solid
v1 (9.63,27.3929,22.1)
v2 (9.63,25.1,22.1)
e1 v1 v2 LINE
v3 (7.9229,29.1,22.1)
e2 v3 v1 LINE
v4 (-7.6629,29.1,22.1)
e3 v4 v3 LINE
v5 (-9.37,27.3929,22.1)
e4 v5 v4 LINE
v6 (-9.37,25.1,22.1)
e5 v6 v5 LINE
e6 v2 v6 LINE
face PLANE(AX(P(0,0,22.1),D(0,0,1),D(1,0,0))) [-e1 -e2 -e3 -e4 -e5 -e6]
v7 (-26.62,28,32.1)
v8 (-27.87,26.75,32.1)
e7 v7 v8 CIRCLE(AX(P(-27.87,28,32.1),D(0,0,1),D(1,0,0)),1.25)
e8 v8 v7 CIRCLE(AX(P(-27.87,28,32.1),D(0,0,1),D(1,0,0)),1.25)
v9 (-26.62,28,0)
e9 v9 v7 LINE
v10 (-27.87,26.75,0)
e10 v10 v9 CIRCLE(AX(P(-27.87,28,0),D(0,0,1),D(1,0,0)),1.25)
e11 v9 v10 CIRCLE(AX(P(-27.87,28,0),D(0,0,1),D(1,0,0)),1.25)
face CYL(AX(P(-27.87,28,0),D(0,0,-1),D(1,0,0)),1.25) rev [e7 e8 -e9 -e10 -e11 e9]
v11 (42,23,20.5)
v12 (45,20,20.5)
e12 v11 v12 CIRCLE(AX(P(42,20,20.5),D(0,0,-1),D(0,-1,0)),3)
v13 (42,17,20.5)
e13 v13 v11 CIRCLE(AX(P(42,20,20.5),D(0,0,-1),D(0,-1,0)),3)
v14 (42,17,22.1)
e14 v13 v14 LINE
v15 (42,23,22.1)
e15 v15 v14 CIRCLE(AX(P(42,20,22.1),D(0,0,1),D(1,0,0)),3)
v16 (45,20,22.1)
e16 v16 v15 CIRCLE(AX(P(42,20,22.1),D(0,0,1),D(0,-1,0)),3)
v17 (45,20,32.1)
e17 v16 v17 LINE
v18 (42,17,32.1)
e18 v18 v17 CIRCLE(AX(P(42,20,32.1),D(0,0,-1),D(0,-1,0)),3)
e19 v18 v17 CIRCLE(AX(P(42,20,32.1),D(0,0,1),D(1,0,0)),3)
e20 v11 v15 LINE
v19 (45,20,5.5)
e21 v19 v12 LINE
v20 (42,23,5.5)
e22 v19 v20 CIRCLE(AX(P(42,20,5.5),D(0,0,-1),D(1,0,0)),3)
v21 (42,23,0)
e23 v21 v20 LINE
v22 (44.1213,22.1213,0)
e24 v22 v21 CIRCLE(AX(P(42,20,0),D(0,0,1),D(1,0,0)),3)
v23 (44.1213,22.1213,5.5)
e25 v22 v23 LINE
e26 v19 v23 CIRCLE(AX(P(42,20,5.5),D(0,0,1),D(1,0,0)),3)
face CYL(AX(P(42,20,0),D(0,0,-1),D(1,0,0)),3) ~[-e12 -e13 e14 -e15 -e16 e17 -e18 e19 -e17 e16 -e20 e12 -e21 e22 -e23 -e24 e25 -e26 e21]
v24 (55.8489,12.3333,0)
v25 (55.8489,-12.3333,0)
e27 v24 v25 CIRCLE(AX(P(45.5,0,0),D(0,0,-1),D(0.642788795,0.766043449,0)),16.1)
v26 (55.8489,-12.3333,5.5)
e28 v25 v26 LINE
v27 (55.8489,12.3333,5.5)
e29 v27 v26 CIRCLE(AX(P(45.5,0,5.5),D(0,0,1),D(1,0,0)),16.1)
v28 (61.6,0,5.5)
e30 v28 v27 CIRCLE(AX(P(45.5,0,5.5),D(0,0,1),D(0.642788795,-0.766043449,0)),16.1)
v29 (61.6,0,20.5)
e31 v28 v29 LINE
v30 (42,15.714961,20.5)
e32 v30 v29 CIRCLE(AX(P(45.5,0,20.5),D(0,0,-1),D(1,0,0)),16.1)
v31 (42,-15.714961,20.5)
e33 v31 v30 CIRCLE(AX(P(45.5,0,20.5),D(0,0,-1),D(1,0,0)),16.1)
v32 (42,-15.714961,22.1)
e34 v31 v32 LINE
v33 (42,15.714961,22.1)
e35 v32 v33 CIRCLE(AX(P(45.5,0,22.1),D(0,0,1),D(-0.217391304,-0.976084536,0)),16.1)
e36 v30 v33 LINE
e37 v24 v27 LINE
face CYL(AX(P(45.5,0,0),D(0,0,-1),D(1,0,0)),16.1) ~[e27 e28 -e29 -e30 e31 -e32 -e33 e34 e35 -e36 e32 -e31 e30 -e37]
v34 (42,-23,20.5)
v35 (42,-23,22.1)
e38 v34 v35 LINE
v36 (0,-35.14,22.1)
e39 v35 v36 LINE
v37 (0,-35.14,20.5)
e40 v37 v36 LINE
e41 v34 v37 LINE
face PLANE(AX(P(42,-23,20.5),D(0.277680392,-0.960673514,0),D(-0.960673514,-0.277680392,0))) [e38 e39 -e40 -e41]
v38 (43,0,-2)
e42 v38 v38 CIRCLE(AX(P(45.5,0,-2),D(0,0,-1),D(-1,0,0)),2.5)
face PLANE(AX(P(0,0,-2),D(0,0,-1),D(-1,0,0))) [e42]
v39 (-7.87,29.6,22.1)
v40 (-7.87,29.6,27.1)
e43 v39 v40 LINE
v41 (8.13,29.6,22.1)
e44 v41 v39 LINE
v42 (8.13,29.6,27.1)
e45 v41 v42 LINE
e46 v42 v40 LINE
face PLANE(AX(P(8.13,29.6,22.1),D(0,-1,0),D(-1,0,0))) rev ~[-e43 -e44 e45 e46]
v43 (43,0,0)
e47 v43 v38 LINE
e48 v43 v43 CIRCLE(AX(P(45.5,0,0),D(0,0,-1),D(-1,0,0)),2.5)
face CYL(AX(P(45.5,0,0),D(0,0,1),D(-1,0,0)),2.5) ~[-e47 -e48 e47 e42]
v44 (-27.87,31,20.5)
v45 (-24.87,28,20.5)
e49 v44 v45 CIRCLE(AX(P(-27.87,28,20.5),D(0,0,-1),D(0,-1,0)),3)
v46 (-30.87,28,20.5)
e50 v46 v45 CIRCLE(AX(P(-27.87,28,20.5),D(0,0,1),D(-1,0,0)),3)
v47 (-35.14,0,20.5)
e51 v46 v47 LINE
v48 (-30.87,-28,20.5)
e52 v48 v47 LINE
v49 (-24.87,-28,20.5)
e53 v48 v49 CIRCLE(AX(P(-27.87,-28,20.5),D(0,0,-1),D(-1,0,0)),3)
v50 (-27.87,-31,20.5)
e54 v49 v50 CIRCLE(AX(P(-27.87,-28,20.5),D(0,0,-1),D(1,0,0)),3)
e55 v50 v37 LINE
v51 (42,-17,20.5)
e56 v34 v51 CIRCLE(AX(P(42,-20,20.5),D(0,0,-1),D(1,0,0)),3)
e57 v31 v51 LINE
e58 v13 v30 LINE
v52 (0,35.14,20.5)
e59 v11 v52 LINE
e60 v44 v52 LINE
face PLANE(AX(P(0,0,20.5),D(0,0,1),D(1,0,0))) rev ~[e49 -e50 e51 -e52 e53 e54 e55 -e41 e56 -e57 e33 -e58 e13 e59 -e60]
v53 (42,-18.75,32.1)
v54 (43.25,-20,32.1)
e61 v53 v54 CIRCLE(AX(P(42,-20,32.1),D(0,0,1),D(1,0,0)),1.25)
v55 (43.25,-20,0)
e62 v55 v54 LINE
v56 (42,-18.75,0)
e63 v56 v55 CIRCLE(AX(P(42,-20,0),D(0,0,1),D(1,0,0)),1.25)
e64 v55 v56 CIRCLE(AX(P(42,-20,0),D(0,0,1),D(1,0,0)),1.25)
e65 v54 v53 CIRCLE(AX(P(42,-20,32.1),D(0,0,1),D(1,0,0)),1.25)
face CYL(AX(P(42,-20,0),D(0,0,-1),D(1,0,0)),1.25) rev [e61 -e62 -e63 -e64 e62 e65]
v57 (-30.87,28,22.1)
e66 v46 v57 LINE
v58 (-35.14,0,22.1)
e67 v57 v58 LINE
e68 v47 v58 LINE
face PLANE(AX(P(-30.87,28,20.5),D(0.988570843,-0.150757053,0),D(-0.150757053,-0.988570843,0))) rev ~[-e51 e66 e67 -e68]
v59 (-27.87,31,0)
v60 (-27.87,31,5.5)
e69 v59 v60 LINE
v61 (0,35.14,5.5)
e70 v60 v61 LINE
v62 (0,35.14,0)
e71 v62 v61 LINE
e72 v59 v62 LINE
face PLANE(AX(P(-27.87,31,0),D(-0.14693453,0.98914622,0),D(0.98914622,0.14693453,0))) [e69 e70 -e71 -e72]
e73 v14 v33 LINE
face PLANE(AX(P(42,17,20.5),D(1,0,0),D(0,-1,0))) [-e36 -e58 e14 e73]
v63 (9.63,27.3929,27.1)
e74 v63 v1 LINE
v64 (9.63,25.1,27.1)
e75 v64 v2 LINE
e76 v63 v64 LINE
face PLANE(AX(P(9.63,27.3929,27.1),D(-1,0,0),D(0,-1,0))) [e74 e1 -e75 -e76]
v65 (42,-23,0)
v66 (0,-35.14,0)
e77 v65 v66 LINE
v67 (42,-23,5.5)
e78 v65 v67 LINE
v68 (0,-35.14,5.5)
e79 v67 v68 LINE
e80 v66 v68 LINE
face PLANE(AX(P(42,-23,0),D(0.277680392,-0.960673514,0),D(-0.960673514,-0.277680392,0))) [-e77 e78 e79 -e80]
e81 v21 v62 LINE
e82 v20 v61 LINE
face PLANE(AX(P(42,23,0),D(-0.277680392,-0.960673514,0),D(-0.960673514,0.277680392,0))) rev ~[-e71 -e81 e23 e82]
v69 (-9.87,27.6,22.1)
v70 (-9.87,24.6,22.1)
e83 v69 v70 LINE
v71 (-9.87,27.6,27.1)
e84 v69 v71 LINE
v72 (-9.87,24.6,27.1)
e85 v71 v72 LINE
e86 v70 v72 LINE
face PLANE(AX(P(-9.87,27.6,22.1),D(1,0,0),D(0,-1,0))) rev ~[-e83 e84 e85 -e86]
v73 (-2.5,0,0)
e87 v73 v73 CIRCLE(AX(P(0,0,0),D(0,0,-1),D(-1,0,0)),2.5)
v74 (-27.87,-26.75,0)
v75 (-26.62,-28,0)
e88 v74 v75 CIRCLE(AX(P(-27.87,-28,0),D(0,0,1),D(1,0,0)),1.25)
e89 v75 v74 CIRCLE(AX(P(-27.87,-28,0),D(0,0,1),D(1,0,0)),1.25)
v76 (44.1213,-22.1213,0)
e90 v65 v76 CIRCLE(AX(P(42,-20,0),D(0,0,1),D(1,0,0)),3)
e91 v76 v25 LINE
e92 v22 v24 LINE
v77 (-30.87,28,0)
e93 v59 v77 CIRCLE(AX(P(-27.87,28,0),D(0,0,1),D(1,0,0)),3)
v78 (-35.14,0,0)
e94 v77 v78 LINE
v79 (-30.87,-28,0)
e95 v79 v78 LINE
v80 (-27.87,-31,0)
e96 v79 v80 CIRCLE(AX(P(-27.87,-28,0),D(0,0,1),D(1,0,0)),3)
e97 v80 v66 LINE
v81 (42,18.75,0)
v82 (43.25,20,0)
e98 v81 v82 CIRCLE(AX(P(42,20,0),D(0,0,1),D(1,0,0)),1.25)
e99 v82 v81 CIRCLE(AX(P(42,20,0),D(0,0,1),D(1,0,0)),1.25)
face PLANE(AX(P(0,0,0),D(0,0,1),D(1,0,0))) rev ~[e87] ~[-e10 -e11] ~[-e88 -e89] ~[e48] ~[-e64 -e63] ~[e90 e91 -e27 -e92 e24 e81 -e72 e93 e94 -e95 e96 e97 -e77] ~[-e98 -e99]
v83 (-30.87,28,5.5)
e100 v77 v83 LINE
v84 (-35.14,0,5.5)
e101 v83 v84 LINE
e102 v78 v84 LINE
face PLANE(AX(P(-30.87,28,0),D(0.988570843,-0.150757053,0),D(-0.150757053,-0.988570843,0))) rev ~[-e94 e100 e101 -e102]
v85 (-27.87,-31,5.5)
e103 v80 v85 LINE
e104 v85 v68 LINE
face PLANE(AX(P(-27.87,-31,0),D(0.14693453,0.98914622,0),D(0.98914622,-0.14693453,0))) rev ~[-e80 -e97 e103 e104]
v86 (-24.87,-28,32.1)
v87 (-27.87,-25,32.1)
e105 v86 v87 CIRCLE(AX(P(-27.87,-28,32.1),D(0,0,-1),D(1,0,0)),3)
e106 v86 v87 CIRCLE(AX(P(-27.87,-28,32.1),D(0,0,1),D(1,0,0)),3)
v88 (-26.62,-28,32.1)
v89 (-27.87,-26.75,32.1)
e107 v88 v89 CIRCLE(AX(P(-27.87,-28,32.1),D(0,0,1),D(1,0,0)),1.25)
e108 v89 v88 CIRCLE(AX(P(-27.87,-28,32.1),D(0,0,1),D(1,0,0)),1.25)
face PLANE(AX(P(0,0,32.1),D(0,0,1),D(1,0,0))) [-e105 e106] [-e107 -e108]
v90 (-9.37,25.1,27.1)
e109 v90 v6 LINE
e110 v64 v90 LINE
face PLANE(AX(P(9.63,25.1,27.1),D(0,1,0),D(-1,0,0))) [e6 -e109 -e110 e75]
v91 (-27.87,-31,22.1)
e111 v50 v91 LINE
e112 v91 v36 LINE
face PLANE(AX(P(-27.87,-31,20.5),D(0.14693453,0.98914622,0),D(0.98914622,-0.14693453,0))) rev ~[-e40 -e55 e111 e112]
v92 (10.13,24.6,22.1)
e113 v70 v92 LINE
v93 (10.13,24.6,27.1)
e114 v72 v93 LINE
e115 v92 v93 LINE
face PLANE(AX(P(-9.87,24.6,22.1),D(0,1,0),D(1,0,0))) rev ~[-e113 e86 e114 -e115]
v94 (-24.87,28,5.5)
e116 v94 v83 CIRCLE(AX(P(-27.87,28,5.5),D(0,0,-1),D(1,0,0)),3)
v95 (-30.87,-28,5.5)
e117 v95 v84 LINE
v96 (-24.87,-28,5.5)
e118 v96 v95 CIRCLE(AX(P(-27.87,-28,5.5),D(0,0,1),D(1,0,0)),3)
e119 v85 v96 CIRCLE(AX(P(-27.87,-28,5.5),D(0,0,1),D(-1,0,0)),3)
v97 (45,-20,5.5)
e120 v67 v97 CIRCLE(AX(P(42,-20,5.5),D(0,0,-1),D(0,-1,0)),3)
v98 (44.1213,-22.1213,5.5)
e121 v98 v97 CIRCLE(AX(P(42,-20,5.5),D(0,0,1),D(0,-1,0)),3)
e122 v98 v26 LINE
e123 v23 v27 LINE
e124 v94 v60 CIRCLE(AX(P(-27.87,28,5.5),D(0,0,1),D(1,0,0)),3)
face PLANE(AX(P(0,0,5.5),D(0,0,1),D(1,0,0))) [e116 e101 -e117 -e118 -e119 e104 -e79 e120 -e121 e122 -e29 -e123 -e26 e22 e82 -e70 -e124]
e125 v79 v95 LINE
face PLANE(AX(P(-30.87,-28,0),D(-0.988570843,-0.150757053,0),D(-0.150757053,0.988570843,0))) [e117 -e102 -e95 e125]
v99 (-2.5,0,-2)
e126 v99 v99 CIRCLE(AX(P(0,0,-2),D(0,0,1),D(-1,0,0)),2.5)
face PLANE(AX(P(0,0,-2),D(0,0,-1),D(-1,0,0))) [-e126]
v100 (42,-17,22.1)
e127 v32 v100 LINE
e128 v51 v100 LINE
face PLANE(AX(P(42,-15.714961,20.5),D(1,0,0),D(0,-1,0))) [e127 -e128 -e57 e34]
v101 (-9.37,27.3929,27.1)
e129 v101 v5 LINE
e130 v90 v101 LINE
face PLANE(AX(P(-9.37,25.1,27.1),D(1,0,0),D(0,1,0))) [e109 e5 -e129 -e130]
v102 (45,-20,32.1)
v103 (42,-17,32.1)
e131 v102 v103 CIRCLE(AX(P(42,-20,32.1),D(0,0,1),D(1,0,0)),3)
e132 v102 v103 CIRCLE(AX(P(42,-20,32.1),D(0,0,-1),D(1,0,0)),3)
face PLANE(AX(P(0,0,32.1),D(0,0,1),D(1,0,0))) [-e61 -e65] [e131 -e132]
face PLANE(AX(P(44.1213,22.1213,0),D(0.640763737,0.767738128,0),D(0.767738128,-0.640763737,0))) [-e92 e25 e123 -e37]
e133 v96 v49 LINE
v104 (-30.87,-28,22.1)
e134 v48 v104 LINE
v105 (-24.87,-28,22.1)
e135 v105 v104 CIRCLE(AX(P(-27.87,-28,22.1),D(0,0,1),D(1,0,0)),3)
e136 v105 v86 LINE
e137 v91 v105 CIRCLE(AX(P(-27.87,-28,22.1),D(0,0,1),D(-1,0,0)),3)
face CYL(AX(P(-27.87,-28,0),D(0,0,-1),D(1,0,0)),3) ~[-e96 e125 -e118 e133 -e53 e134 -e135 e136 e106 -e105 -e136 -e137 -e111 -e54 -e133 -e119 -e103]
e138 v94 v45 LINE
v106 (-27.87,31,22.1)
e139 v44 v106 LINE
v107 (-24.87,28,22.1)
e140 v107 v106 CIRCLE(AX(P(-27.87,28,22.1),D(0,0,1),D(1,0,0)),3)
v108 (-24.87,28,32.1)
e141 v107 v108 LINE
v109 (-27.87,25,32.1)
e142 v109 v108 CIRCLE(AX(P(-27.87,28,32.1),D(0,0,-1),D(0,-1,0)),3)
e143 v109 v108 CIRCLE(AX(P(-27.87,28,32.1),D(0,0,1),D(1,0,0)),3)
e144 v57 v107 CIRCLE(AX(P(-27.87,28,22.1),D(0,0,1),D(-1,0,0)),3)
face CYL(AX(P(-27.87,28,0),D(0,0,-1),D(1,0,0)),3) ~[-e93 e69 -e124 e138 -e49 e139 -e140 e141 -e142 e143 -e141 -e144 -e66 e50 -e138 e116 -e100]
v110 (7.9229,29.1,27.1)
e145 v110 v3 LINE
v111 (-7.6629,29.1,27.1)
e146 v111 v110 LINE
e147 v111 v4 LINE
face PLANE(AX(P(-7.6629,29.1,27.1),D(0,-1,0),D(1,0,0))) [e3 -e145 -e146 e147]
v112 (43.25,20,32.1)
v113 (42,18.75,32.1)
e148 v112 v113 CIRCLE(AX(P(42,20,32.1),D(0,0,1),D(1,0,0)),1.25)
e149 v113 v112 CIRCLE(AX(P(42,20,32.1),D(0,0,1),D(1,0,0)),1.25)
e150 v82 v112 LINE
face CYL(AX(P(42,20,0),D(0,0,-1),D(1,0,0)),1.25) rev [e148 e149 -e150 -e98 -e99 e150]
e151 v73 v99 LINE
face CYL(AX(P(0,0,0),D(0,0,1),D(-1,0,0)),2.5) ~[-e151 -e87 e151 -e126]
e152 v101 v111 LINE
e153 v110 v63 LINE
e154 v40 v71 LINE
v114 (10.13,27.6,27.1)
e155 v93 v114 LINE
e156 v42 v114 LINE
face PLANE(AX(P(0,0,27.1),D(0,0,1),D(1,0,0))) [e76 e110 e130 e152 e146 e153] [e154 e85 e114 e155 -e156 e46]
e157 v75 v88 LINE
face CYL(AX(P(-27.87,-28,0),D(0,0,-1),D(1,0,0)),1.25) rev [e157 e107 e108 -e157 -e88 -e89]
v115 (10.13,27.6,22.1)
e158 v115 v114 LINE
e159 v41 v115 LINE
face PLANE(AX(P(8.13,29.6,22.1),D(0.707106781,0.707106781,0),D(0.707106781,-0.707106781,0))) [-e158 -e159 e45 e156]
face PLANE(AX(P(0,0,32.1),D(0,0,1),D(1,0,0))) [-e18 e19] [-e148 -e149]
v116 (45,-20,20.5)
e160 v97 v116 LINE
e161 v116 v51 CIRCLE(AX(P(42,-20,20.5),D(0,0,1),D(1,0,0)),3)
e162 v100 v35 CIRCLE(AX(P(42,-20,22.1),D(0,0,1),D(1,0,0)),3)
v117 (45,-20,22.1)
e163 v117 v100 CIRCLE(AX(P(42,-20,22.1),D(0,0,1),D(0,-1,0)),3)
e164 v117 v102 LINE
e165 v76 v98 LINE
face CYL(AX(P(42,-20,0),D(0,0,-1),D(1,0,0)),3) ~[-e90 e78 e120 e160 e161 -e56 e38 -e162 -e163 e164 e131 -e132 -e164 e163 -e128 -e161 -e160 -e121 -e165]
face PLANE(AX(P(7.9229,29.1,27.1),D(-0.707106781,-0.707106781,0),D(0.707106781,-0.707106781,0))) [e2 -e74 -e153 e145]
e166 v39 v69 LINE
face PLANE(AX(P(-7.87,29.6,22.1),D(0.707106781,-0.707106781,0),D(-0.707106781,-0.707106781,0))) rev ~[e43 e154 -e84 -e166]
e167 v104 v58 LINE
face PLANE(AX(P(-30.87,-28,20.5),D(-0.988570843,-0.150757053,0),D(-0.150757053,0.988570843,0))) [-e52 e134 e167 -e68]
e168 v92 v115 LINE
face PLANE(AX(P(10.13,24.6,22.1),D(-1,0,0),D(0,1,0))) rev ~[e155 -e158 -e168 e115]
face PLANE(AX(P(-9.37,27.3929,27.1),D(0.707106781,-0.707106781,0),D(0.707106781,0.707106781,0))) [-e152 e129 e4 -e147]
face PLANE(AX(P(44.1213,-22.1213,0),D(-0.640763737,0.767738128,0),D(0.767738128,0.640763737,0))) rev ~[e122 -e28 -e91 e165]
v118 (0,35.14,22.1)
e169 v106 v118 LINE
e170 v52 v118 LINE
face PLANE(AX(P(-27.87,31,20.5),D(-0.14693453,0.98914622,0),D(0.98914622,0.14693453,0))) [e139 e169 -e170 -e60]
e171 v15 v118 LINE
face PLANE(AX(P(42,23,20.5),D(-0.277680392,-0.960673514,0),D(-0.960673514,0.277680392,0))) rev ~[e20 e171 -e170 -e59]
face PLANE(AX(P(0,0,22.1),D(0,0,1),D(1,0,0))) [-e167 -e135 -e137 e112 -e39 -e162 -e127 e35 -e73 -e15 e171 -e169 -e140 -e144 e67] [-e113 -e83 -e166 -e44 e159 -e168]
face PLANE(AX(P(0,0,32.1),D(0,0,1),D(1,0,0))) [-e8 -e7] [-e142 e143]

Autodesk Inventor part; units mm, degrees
ref_plane "YZ Plane" through (0, 0, 0) normal (1, 0, 0) x (0, 1, 0)
ref_plane "XZ Plane" through (0, 0, 0) normal (0, 1, 0) x (-1, 0, 0)
ref_plane "XY Plane" through (0, 0, 0) normal (0, 0, 1) x (1, 0, 0)
sketch "스케치1" plane through (0, 0, 0) normal (0, 0, 1) x (1, 0, 0)
  line L0 (0, 0) -> (-35.14, 0)
  line L1 (-35.14, 0) -> (61.6, 0)
  line L2 (0, 35.14) -> (0, -35.14)
  line L3 (-35.14, -35.14) -> (61.6, -35.14)
  line L4 (61.6, -35.14) -> (61.6, 35.14)
  line L5 (61.6, 35.14) -> (-35.14, 35.14)
  line L6 (-35.14, 35.14) -> (-35.14, -35.14)
  line L7 (0, 0) -> (-27.87, 0)
  line L8 (0, 0) -> (42, 0)
  line L9 (42, 20) -> (42, -20)
  circle A0 centre (42, -20) radius 1.25
  circle A1 centre (42, 20) radius 1.25
  line L10 (0, 0) -> (45.5, 0)
  circle A2 centre (45.5, 0) radius 9
  circle A3 centre (45.5, 0) radius 16.1
  circle A4 centre (42, -20) radius 3
  circle A5 centre (42, 20) radius 3
  line L11 (45.5, 0) -> (61.6, 0) construction
  line L12 (42, 20) -> (45, 20) construction
  line L13 (44.1213, 22.1213) -> (55.8489, 12.3333)
  line L14 (42, 23) -> (0, 35.14)
  line L15 (-27.87, 28) -> (-27.87, -28)
  circle A6 centre (-27.87, 28) radius 1.25
  circle A7 centre (-27.87, 28) radius 3
  circle A8 centre (-27.87, -28) radius 1.25
  circle A9 centre (-27.87, -28) radius 3
  line L16 (-27.87, 31) -> (0, 35.14)
  line L17 (-30.87, 28) -> (-35.14, 0)
  line L18 (44.1213, -22.1213) -> (55.8489, -12.3333)
  line L19 (42, -23) -> (0, -35.14)
  line L20 (-27.87, -31) -> (0, -35.14)
  line L21 (-30.87, -28) -> (-35.14, 0)
  dimension "d20" = 6
  dimension "d0" = 35.14
  dimension "d1" = 96.74
  dimension "d3" = 70.28
  dimension "d4" = 27.87
  dimension "d9" = 42
  dimension "d11" = 40
  dimension "d12" = 2.5
  dimension "d13" = 2.5
  dimension "d14" = 45.5
  dimension "d15" = 18
  dimension "d16" = 32.2
  dimension "d19" = 6
  dimension "d27" = 56
  dimension "d28" = 2.5
  dimension "d29" = 6
  dimension "d30" = 2.5
  dimension "d31" = 6
extrude "돌출1" add sketch "스케치1" along normal blind 5.5 contours L2 L20 A9 L15 L0 | L2 L14 A5 L9 A3 L1 | L0 L15 A7 L16 L2 | L1 A3 L9 A4 L19 L2 | L15 A9 L21 L0 | L0 L17 A7 L15 | A3 L9 A2 L1 | L1 A2 L9 A3 | A3 L1 A2 L9 | L18 A4 L9 A3 | A7 | A9 | A2 L9 L1 | L1 L9 A2 | L9 A5 L13 A3 | L9 A2 L1 A3 | A5 | A4 | L9 A2 L1 | L1 A2 L9
sketch "스케치2" plane through (0, 0, 5.5) normal (0, 0, 1) x (1, 0, 0)
  line L0 (0, 0) -> (-35.14, 0)
  line L1 (-35.14, 0) -> (61.6, 0)
  line L2 (0, 35.14) -> (0, -35.14)
  line L3 (-35.14, -35.14) -> (61.6, -35.14)
  line L4 (61.6, -35.14) -> (61.6, 35.14)
  line L5 (61.6, 35.14) -> (-35.14, 35.14)
  line L6 (-35.14, 35.14) -> (-35.14, -35.14)
  line L7 (0, 0) -> (-27.87, 0)
  line L8 (0, 0) -> (42, 0)
  line L9 (42, 20) -> (42, -20)
  circle A0 centre (42, -20) radius 1.25
  circle A1 centre (42, 20) radius 1.25
  line L10 (0, 0) -> (45.5, 0)
  circle A2 centre (45.5, 0) radius 9
  circle A3 centre (45.5, 0) radius 16.1
  circle A4 centre (42, -20) radius 3
  circle A5 centre (42, 20) radius 3
  line L11 (45.5, 0) -> (61.6, 0) construction
  line L12 (42, 20) -> (45, 20) construction
  line L13 (44.1213, 22.1213) -> (55.8489, 12.3333)
  line L14 (42, 23) -> (0, 35.14)
  line L15 (-27.87, 28) -> (-27.87, -28)
  circle A6 centre (-27.87, 28) radius 1.25
  circle A7 centre (-27.87, 28) radius 3
  circle A8 centre (-27.87, -28) radius 1.25
  circle A9 centre (-27.87, -28) radius 3
  line L16 (-27.87, 31) -> (0, 35.14)
  line L17 (-30.87, 28) -> (-35.14, 0)
  line L18 (-27.87, -31) -> (0, -35.14)
  line L19 (-30.87, -28) -> (-35.14, 0)
  line L20 (42, -23) -> (0, -35.14)
  line L21 (44.1213, -22.1213) -> (55.8489, -12.3333)
  point P0 (55.7837, -12.3877)
  point P1 (55.7837, 12.3877)
  dimension "d46" = 6
  dimension "d34" = 35.14
  dimension "d35" = 96.74
  dimension "d36" = 70.28
  dimension "d37" = 27.87
  dimension "d38" = 42
  dimension "d39" = 40
  dimension "d40" = 2.5
  dimension "d41" = 2.5
  dimension "d42" = 45.5
  dimension "d43" = 18
  dimension "d44" = 32.2
  dimension "d45" = 6
  dimension "d47" = 56
  dimension "d48" = 2.5
  dimension "d49" = 6
  dimension "d50" = 2.5
  dimension "d51" = 6
extrude "돌출2" add sketch "스케치2" along normal blind 15 contours A3 L9 A2 L1 | L1 A2 L9 A3 | A3 L1 A2 L9 | A7 | A9 | A2 L9 L1 | L1 L9 A2 | L9 A2 L1 A3 | A5 | A4 | L9 A2 L1 | L1 A2 L9
sketch "스케치3" plane through (0, 0, 20.5) normal (0, 0, 1) x (1, 0, 0)
  line L0 (0, 0) -> (-35.14, 0)
  line L1 (-35.14, 0) -> (61.6, 0)
  line L2 (0, 35.14) -> (0, -35.14)
  line L3 (-35.14, -35.14) -> (61.6, -35.14)
  line L4 (61.6, -35.14) -> (61.6, 35.14)
  line L5 (61.6, 35.14) -> (-35.14, 35.14)
  line L6 (-35.14, 35.14) -> (-35.14, -35.14)
  line L7 (0, 0) -> (-27.87, 0)
  line L8 (0, 0) -> (42, 0)
  line L9 (42, 20) -> (42, -20)
  circle A0 centre (42, -20) radius 1.25
  circle A1 centre (42, 20) radius 1.25
  line L10 (0, 0) -> (45.5, 0)
  circle A2 centre (45.5, 0) radius 9
  circle A3 centre (45.5, 0) radius 16.1
  circle A4 centre (42, -20) radius 3
  circle A5 centre (42, 20) radius 3
  line L11 (45.5, 0) -> (61.6, 0) construction
  line L12 (42, 20) -> (45, 20) construction
  line L13 (44.1213, 22.1213) -> (55.8489, 12.3333)
  line L14 (42, 23) -> (0, 35.14)
  line L15 (-27.87, 28) -> (-27.87, -28)
  circle A6 centre (-27.87, 28) radius 1.25
  circle A7 centre (-27.87, 28) radius 3
  circle A8 centre (-27.87, -28) radius 1.25
  circle A9 centre (-27.87, -28) radius 3
  line L16 (-27.87, 31) -> (0, 35.14)
  line L17 (-30.87, 28) -> (-35.14, 0)
  line L18 (-27.87, -31) -> (0, -35.14)
  line L19 (-30.87, -28) -> (-35.14, 0)
  line L20 (42, -23) -> (0, -35.14)
  line L21 (44.1213, -22.1213) -> (55.8489, -12.3333)
  point P0 (42, -15.715)
  point P1 (55.7837, -12.3877)
  point P2 (55.7837, 12.3877)
  point P3 (42, 15.715)
  point P4 (42, 17)
  point P5 (42, -17)
  dimension "d66" = 6
  dimension "d54" = 35.14
  dimension "d55" = 96.74
  dimension "d56" = 70.28
  dimension "d57" = 27.87
  dimension "d58" = 42
  dimension "d59" = 40
  dimension "d60" = 2.5
  dimension "d61" = 2.5
  dimension "d62" = 45.5
  dimension "d63" = 18
  dimension "d64" = 32.2
  dimension "d65" = 6
  dimension "d67" = 56
  dimension "d68" = 2.5
  dimension "d69" = 6
  dimension "d70" = 2.5
  dimension "d71" = 6
extrude "돌출3" add sketch "스케치3" along normal blind 1.6 contours L2 L18 A9 L15 L0 | L2 L14 A5 L9 A3 L1 | L0 L15 A7 L16 L2 | L1 A3 L9 A4 L20 L2 | L15 A9 L19 L0 | L0 L17 A7 L15 | A3 L9 A2 L1 | L1 A2 L9 A3 | A3 L1 A2 L9 | A7 | A9 | A2 L9 L1 | L1 L9 A2 | L9 A2 L1 A3 | A5 | A4 | L9 A2 L1 | L1 A2 L9
sketch "스케치4" plane through (0, 0, 22.1) normal (0, 0, 1) x (1, 0, 0)
  line L0 (0, 0) -> (-35.14, 0)
  line L1 (-35.14, 0) -> (61.6, 0)
  line L2 (0, 35.14) -> (0, -35.14)
  line L3 (-35.14, -35.14) -> (61.6, -35.14)
  line L4 (61.6, -35.14) -> (61.6, 35.14)
  line L5 (61.6, 35.14) -> (-35.14, 35.14)
  line L6 (-35.14, 35.14) -> (-35.14, -35.14)
  line L7 (0, 0) -> (-27.87, 0)
  line L8 (0, 0) -> (42, 0)
  line L9 (42, 20) -> (42, -20)
  circle A0 centre (42, -20) radius 1.25
  circle A1 centre (42, 20) radius 1.25
  line L10 (0, 0) -> (45.5, 0)
  circle A2 centre (45.5, 0) radius 9
  circle A3 centre (45.5, 0) radius 16.1
  circle A4 centre (42, -20) radius 3
  circle A5 centre (42, 20) radius 3
  line L11 (45.5, 0) -> (61.6, 0) construction
  line L12 (42, 20) -> (45, 20) construction
  line L13 (44.1213, 22.1213) -> (55.8489, 12.3333)
  line L14 (42, 23) -> (0, 35.14)
  line L15 (-27.87, 28) -> (-27.87, -28)
  circle A6 centre (-27.87, 28) radius 1.25
  circle A7 centre (-27.87, 28) radius 3
  circle A8 centre (-27.87, -28) radius 1.25
  circle A9 centre (-27.87, -28) radius 3
  line L16 (-27.87, 31) -> (0, 35.14)
  line L17 (-30.87, 28) -> (-35.14, 0)
  line L18 (-27.87, -31) -> (0, -35.14)
  line L19 (-30.87, -28) -> (-35.14, 0)
  line L20 (42, -23) -> (0, -35.14)
  line L21 (44.1213, -22.1213) -> (55.8489, -12.3333)
  dimension "d86" = 6
  dimension "d74" = 35.14
  dimension "d75" = 96.74
  dimension "d76" = 70.28
  dimension "d77" = 27.87
  dimension "d78" = 42
  dimension "d79" = 40
  dimension "d80" = 2.5
  dimension "d81" = 2.5
  dimension "d82" = 45.5
  dimension "d83" = 18
  dimension "d84" = 32.2
  dimension "d85" = 6
  dimension "d87" = 56
  dimension "d88" = 2.5
  dimension "d89" = 6
  dimension "d90" = 2.5
  dimension "d91" = 6
extrude "돌출4" add sketch "스케치4" along normal blind 10 contours A7 | A9 | A5 | A4
sketch "스케치5" plane through (0, 0, 0) normal (0, 0, -1) x (-1, 0, 0)
  line L0 (27.87, -31) -> (0, -35.14) projected
  arc A0 (27.87, -31) -> (30.87, -28) centre (27.87, -28) ccw projected
  line L1 (35.14, 0) -> (30.87, -28) projected
  line L2 (30.87, 28) -> (35.14, 0) projected
  arc A1 (30.87, 28) -> (27.87, 31) centre (27.87, 28) ccw projected
  line L3 (0, 35.14) -> (27.87, 31) projected
  line L4 (-42, 23) -> (0, 35.14) projected
  arc A2 (-42, 23) -> (-44.1213, 22.1213) centre (-42, 20) ccw projected
  line L5 (-55.8489, 12.3333) -> (-44.1213, 22.1213) projected
  arc A3 (-55.8489, 12.3333) -> (-55.8489, -12.3333) centre (-45.5, 0) ccw projected
  line L6 (-44.1213, -22.1213) -> (-55.8489, -12.3333) projected
  arc A4 (-44.1213, -22.1213) -> (-42, -23) centre (-42, -20) ccw projected
  line L7 (0, -35.14) -> (-42, -23) projected
  circle A5 centre (-42, 20) radius 1.25 projected
  circle A6 centre (27.87, 28) radius 1.25 projected
  circle A7 centre (27.87, -28) radius 1.25 projected
  circle A8 centre (-42, -20) radius 1.25 projected
  line L8 (0, -35.14) -> (0, 35.14)
  line L9 (0, 0) -> (-45.5, 0)
  circle A9 centre (0, 0) radius 2.5
  circle A10 centre (-45.5, 0) radius 2.5
  dimension "d94" = 5
  dimension "d95" = 5
extrude "돌출5" add sketch "스케치5" along normal blind 2 contours A10 | A9 L9 L8 | L8 A9 | L9 A9 L8
sketch "스케치6" plane through (0, 0, 22.1) normal (0, 0, 1) x (1, 0, 0)
  arc A0 (42, -17) -> (42, -23) centre (42, -20) ccw projected
  line L0 (42, -17) -> (42, -15.715) projected
  arc A1 (42, -15.715) -> (55.7837, -12.3877) centre (45.5, 0) ccw projected
  line L1 (55.7837, -12.3877) -> (55.8489, -12.3333) projected
  arc A2 (55.8489, -12.3333) -> (55.8489, 12.3333) centre (45.5, 0) ccw projected
  line L2 (55.8489, 12.3333) -> (55.7837, 12.3877) projected
  arc A3 (55.7837, 12.3877) -> (42, 15.715) centre (45.5, 0) ccw projected
  line L3 (42, 15.715) -> (42, 17) projected
  arc A4 (42, 23) -> (42, 17) centre (42, 20) ccw projected
  line L4 (42, 23) -> (0, 35.14) projected
  line L5 (0, 35.14) -> (-27.87, 31) projected
  arc A5 (-30.87, 28) -> (-27.87, 31) centre (-27.87, 28) ccw projected
  line L6 (-30.87, 28) -> (-35.14, 0) projected
  line L7 (-35.14, 0) -> (-30.87, -28) projected
  arc A6 (-27.87, -31) -> (-30.87, -28) centre (-27.87, -28) ccw projected
  line L8 (-27.87, -31) -> (0, -35.14) projected
  line L9 (0, -35.14) -> (42, -23) projected
  circle A7 centre (-27.87, 28) radius 3 projected
  circle A8 centre (-27.87, 28) radius 1.25 projected
  circle A9 centre (-27.87, -28) radius 3 projected
  circle A10 centre (-27.87, -28) radius 1.25 projected
  circle A11 centre (42, -20) radius 1.25 projected
  circle A12 centre (42, -20) radius 3 projected
  circle A13 centre (42, -20) radius 1.25 projected
  circle A14 centre (42, 20) radius 3 projected
  circle A15 centre (42, 20) radius 1.25 projected
  line L10 (-27.87, 28) -> (-27.87, 24.6)
  line L11 (-27.87, 24.6) -> (-9.87, 24.6)
  line L12 (-9.87, 24.6) -> (10.13, 24.6)
  line L13 (10.13, 24.6) -> (10.13, 29.6)
  line L14 (10.13, 29.6) -> (-9.87, 29.6)
  line L15 (-9.87, 29.6) -> (-9.87, 24.6)
  line L16 (-9.87, 29.6) -> (-7.87, 29.6)
  line L17 (-7.87, 29.6) -> (-9.87, 27.6)
  line L18 (10.13, 29.6) -> (8.13, 29.6)
  line L19 (8.13, 29.6) -> (10.13, 27.6)
  point P0 (0, 0)
  dimension "d98" = 3.4
  dimension "d99" = 18
  dimension "d100" = 20
  dimension "d101" = 5
  dimension "d102" = 2
  dimension "d103" = 45
  dimension "d104" = 2
extrude "돌출6" add sketch "스케치6" along normal blind 5 contours L15 L17 L14 L19 L13 L12
sketch "스케치7" plane through (0, 0, 27.1) normal (0, 0, 1) x (1, 0, 0)
  line L0 (8.13, 29.6) -> (-7.87, 29.6) projected
  line L1 (-7.87, 29.6) -> (-9.87, 27.6) projected
  line L2 (-9.87, 27.6) -> (-9.87, 24.6) projected
  line L3 (-9.87, 24.6) -> (10.13, 24.6) projected
  line L4 (10.13, 24.6) -> (10.13, 27.6) projected
  line L5 (10.13, 27.6) -> (8.13, 29.6) projected
  line L6 (-9.37, 27.3929) -> (-7.6629, 29.1)
  line L7 (-7.6629, 29.1) -> (7.9229, 29.1)
  line L8 (7.9229, 29.1) -> (9.63, 27.3929)
  line L9 (9.63, 27.3929) -> (9.63, 25.1)
  line L10 (9.63, 25.1) -> (-9.37, 25.1)
  line L11 (-9.37, 25.1) -> (-9.37, 27.3929)
  point P0 (0, 0)
  dimension "d107" = 0.5
extrude "돌출7" cut sketch "스케치7" against normal blind 5 contours L6 L7 L8 L9 L10 L11
properties part number "base"
